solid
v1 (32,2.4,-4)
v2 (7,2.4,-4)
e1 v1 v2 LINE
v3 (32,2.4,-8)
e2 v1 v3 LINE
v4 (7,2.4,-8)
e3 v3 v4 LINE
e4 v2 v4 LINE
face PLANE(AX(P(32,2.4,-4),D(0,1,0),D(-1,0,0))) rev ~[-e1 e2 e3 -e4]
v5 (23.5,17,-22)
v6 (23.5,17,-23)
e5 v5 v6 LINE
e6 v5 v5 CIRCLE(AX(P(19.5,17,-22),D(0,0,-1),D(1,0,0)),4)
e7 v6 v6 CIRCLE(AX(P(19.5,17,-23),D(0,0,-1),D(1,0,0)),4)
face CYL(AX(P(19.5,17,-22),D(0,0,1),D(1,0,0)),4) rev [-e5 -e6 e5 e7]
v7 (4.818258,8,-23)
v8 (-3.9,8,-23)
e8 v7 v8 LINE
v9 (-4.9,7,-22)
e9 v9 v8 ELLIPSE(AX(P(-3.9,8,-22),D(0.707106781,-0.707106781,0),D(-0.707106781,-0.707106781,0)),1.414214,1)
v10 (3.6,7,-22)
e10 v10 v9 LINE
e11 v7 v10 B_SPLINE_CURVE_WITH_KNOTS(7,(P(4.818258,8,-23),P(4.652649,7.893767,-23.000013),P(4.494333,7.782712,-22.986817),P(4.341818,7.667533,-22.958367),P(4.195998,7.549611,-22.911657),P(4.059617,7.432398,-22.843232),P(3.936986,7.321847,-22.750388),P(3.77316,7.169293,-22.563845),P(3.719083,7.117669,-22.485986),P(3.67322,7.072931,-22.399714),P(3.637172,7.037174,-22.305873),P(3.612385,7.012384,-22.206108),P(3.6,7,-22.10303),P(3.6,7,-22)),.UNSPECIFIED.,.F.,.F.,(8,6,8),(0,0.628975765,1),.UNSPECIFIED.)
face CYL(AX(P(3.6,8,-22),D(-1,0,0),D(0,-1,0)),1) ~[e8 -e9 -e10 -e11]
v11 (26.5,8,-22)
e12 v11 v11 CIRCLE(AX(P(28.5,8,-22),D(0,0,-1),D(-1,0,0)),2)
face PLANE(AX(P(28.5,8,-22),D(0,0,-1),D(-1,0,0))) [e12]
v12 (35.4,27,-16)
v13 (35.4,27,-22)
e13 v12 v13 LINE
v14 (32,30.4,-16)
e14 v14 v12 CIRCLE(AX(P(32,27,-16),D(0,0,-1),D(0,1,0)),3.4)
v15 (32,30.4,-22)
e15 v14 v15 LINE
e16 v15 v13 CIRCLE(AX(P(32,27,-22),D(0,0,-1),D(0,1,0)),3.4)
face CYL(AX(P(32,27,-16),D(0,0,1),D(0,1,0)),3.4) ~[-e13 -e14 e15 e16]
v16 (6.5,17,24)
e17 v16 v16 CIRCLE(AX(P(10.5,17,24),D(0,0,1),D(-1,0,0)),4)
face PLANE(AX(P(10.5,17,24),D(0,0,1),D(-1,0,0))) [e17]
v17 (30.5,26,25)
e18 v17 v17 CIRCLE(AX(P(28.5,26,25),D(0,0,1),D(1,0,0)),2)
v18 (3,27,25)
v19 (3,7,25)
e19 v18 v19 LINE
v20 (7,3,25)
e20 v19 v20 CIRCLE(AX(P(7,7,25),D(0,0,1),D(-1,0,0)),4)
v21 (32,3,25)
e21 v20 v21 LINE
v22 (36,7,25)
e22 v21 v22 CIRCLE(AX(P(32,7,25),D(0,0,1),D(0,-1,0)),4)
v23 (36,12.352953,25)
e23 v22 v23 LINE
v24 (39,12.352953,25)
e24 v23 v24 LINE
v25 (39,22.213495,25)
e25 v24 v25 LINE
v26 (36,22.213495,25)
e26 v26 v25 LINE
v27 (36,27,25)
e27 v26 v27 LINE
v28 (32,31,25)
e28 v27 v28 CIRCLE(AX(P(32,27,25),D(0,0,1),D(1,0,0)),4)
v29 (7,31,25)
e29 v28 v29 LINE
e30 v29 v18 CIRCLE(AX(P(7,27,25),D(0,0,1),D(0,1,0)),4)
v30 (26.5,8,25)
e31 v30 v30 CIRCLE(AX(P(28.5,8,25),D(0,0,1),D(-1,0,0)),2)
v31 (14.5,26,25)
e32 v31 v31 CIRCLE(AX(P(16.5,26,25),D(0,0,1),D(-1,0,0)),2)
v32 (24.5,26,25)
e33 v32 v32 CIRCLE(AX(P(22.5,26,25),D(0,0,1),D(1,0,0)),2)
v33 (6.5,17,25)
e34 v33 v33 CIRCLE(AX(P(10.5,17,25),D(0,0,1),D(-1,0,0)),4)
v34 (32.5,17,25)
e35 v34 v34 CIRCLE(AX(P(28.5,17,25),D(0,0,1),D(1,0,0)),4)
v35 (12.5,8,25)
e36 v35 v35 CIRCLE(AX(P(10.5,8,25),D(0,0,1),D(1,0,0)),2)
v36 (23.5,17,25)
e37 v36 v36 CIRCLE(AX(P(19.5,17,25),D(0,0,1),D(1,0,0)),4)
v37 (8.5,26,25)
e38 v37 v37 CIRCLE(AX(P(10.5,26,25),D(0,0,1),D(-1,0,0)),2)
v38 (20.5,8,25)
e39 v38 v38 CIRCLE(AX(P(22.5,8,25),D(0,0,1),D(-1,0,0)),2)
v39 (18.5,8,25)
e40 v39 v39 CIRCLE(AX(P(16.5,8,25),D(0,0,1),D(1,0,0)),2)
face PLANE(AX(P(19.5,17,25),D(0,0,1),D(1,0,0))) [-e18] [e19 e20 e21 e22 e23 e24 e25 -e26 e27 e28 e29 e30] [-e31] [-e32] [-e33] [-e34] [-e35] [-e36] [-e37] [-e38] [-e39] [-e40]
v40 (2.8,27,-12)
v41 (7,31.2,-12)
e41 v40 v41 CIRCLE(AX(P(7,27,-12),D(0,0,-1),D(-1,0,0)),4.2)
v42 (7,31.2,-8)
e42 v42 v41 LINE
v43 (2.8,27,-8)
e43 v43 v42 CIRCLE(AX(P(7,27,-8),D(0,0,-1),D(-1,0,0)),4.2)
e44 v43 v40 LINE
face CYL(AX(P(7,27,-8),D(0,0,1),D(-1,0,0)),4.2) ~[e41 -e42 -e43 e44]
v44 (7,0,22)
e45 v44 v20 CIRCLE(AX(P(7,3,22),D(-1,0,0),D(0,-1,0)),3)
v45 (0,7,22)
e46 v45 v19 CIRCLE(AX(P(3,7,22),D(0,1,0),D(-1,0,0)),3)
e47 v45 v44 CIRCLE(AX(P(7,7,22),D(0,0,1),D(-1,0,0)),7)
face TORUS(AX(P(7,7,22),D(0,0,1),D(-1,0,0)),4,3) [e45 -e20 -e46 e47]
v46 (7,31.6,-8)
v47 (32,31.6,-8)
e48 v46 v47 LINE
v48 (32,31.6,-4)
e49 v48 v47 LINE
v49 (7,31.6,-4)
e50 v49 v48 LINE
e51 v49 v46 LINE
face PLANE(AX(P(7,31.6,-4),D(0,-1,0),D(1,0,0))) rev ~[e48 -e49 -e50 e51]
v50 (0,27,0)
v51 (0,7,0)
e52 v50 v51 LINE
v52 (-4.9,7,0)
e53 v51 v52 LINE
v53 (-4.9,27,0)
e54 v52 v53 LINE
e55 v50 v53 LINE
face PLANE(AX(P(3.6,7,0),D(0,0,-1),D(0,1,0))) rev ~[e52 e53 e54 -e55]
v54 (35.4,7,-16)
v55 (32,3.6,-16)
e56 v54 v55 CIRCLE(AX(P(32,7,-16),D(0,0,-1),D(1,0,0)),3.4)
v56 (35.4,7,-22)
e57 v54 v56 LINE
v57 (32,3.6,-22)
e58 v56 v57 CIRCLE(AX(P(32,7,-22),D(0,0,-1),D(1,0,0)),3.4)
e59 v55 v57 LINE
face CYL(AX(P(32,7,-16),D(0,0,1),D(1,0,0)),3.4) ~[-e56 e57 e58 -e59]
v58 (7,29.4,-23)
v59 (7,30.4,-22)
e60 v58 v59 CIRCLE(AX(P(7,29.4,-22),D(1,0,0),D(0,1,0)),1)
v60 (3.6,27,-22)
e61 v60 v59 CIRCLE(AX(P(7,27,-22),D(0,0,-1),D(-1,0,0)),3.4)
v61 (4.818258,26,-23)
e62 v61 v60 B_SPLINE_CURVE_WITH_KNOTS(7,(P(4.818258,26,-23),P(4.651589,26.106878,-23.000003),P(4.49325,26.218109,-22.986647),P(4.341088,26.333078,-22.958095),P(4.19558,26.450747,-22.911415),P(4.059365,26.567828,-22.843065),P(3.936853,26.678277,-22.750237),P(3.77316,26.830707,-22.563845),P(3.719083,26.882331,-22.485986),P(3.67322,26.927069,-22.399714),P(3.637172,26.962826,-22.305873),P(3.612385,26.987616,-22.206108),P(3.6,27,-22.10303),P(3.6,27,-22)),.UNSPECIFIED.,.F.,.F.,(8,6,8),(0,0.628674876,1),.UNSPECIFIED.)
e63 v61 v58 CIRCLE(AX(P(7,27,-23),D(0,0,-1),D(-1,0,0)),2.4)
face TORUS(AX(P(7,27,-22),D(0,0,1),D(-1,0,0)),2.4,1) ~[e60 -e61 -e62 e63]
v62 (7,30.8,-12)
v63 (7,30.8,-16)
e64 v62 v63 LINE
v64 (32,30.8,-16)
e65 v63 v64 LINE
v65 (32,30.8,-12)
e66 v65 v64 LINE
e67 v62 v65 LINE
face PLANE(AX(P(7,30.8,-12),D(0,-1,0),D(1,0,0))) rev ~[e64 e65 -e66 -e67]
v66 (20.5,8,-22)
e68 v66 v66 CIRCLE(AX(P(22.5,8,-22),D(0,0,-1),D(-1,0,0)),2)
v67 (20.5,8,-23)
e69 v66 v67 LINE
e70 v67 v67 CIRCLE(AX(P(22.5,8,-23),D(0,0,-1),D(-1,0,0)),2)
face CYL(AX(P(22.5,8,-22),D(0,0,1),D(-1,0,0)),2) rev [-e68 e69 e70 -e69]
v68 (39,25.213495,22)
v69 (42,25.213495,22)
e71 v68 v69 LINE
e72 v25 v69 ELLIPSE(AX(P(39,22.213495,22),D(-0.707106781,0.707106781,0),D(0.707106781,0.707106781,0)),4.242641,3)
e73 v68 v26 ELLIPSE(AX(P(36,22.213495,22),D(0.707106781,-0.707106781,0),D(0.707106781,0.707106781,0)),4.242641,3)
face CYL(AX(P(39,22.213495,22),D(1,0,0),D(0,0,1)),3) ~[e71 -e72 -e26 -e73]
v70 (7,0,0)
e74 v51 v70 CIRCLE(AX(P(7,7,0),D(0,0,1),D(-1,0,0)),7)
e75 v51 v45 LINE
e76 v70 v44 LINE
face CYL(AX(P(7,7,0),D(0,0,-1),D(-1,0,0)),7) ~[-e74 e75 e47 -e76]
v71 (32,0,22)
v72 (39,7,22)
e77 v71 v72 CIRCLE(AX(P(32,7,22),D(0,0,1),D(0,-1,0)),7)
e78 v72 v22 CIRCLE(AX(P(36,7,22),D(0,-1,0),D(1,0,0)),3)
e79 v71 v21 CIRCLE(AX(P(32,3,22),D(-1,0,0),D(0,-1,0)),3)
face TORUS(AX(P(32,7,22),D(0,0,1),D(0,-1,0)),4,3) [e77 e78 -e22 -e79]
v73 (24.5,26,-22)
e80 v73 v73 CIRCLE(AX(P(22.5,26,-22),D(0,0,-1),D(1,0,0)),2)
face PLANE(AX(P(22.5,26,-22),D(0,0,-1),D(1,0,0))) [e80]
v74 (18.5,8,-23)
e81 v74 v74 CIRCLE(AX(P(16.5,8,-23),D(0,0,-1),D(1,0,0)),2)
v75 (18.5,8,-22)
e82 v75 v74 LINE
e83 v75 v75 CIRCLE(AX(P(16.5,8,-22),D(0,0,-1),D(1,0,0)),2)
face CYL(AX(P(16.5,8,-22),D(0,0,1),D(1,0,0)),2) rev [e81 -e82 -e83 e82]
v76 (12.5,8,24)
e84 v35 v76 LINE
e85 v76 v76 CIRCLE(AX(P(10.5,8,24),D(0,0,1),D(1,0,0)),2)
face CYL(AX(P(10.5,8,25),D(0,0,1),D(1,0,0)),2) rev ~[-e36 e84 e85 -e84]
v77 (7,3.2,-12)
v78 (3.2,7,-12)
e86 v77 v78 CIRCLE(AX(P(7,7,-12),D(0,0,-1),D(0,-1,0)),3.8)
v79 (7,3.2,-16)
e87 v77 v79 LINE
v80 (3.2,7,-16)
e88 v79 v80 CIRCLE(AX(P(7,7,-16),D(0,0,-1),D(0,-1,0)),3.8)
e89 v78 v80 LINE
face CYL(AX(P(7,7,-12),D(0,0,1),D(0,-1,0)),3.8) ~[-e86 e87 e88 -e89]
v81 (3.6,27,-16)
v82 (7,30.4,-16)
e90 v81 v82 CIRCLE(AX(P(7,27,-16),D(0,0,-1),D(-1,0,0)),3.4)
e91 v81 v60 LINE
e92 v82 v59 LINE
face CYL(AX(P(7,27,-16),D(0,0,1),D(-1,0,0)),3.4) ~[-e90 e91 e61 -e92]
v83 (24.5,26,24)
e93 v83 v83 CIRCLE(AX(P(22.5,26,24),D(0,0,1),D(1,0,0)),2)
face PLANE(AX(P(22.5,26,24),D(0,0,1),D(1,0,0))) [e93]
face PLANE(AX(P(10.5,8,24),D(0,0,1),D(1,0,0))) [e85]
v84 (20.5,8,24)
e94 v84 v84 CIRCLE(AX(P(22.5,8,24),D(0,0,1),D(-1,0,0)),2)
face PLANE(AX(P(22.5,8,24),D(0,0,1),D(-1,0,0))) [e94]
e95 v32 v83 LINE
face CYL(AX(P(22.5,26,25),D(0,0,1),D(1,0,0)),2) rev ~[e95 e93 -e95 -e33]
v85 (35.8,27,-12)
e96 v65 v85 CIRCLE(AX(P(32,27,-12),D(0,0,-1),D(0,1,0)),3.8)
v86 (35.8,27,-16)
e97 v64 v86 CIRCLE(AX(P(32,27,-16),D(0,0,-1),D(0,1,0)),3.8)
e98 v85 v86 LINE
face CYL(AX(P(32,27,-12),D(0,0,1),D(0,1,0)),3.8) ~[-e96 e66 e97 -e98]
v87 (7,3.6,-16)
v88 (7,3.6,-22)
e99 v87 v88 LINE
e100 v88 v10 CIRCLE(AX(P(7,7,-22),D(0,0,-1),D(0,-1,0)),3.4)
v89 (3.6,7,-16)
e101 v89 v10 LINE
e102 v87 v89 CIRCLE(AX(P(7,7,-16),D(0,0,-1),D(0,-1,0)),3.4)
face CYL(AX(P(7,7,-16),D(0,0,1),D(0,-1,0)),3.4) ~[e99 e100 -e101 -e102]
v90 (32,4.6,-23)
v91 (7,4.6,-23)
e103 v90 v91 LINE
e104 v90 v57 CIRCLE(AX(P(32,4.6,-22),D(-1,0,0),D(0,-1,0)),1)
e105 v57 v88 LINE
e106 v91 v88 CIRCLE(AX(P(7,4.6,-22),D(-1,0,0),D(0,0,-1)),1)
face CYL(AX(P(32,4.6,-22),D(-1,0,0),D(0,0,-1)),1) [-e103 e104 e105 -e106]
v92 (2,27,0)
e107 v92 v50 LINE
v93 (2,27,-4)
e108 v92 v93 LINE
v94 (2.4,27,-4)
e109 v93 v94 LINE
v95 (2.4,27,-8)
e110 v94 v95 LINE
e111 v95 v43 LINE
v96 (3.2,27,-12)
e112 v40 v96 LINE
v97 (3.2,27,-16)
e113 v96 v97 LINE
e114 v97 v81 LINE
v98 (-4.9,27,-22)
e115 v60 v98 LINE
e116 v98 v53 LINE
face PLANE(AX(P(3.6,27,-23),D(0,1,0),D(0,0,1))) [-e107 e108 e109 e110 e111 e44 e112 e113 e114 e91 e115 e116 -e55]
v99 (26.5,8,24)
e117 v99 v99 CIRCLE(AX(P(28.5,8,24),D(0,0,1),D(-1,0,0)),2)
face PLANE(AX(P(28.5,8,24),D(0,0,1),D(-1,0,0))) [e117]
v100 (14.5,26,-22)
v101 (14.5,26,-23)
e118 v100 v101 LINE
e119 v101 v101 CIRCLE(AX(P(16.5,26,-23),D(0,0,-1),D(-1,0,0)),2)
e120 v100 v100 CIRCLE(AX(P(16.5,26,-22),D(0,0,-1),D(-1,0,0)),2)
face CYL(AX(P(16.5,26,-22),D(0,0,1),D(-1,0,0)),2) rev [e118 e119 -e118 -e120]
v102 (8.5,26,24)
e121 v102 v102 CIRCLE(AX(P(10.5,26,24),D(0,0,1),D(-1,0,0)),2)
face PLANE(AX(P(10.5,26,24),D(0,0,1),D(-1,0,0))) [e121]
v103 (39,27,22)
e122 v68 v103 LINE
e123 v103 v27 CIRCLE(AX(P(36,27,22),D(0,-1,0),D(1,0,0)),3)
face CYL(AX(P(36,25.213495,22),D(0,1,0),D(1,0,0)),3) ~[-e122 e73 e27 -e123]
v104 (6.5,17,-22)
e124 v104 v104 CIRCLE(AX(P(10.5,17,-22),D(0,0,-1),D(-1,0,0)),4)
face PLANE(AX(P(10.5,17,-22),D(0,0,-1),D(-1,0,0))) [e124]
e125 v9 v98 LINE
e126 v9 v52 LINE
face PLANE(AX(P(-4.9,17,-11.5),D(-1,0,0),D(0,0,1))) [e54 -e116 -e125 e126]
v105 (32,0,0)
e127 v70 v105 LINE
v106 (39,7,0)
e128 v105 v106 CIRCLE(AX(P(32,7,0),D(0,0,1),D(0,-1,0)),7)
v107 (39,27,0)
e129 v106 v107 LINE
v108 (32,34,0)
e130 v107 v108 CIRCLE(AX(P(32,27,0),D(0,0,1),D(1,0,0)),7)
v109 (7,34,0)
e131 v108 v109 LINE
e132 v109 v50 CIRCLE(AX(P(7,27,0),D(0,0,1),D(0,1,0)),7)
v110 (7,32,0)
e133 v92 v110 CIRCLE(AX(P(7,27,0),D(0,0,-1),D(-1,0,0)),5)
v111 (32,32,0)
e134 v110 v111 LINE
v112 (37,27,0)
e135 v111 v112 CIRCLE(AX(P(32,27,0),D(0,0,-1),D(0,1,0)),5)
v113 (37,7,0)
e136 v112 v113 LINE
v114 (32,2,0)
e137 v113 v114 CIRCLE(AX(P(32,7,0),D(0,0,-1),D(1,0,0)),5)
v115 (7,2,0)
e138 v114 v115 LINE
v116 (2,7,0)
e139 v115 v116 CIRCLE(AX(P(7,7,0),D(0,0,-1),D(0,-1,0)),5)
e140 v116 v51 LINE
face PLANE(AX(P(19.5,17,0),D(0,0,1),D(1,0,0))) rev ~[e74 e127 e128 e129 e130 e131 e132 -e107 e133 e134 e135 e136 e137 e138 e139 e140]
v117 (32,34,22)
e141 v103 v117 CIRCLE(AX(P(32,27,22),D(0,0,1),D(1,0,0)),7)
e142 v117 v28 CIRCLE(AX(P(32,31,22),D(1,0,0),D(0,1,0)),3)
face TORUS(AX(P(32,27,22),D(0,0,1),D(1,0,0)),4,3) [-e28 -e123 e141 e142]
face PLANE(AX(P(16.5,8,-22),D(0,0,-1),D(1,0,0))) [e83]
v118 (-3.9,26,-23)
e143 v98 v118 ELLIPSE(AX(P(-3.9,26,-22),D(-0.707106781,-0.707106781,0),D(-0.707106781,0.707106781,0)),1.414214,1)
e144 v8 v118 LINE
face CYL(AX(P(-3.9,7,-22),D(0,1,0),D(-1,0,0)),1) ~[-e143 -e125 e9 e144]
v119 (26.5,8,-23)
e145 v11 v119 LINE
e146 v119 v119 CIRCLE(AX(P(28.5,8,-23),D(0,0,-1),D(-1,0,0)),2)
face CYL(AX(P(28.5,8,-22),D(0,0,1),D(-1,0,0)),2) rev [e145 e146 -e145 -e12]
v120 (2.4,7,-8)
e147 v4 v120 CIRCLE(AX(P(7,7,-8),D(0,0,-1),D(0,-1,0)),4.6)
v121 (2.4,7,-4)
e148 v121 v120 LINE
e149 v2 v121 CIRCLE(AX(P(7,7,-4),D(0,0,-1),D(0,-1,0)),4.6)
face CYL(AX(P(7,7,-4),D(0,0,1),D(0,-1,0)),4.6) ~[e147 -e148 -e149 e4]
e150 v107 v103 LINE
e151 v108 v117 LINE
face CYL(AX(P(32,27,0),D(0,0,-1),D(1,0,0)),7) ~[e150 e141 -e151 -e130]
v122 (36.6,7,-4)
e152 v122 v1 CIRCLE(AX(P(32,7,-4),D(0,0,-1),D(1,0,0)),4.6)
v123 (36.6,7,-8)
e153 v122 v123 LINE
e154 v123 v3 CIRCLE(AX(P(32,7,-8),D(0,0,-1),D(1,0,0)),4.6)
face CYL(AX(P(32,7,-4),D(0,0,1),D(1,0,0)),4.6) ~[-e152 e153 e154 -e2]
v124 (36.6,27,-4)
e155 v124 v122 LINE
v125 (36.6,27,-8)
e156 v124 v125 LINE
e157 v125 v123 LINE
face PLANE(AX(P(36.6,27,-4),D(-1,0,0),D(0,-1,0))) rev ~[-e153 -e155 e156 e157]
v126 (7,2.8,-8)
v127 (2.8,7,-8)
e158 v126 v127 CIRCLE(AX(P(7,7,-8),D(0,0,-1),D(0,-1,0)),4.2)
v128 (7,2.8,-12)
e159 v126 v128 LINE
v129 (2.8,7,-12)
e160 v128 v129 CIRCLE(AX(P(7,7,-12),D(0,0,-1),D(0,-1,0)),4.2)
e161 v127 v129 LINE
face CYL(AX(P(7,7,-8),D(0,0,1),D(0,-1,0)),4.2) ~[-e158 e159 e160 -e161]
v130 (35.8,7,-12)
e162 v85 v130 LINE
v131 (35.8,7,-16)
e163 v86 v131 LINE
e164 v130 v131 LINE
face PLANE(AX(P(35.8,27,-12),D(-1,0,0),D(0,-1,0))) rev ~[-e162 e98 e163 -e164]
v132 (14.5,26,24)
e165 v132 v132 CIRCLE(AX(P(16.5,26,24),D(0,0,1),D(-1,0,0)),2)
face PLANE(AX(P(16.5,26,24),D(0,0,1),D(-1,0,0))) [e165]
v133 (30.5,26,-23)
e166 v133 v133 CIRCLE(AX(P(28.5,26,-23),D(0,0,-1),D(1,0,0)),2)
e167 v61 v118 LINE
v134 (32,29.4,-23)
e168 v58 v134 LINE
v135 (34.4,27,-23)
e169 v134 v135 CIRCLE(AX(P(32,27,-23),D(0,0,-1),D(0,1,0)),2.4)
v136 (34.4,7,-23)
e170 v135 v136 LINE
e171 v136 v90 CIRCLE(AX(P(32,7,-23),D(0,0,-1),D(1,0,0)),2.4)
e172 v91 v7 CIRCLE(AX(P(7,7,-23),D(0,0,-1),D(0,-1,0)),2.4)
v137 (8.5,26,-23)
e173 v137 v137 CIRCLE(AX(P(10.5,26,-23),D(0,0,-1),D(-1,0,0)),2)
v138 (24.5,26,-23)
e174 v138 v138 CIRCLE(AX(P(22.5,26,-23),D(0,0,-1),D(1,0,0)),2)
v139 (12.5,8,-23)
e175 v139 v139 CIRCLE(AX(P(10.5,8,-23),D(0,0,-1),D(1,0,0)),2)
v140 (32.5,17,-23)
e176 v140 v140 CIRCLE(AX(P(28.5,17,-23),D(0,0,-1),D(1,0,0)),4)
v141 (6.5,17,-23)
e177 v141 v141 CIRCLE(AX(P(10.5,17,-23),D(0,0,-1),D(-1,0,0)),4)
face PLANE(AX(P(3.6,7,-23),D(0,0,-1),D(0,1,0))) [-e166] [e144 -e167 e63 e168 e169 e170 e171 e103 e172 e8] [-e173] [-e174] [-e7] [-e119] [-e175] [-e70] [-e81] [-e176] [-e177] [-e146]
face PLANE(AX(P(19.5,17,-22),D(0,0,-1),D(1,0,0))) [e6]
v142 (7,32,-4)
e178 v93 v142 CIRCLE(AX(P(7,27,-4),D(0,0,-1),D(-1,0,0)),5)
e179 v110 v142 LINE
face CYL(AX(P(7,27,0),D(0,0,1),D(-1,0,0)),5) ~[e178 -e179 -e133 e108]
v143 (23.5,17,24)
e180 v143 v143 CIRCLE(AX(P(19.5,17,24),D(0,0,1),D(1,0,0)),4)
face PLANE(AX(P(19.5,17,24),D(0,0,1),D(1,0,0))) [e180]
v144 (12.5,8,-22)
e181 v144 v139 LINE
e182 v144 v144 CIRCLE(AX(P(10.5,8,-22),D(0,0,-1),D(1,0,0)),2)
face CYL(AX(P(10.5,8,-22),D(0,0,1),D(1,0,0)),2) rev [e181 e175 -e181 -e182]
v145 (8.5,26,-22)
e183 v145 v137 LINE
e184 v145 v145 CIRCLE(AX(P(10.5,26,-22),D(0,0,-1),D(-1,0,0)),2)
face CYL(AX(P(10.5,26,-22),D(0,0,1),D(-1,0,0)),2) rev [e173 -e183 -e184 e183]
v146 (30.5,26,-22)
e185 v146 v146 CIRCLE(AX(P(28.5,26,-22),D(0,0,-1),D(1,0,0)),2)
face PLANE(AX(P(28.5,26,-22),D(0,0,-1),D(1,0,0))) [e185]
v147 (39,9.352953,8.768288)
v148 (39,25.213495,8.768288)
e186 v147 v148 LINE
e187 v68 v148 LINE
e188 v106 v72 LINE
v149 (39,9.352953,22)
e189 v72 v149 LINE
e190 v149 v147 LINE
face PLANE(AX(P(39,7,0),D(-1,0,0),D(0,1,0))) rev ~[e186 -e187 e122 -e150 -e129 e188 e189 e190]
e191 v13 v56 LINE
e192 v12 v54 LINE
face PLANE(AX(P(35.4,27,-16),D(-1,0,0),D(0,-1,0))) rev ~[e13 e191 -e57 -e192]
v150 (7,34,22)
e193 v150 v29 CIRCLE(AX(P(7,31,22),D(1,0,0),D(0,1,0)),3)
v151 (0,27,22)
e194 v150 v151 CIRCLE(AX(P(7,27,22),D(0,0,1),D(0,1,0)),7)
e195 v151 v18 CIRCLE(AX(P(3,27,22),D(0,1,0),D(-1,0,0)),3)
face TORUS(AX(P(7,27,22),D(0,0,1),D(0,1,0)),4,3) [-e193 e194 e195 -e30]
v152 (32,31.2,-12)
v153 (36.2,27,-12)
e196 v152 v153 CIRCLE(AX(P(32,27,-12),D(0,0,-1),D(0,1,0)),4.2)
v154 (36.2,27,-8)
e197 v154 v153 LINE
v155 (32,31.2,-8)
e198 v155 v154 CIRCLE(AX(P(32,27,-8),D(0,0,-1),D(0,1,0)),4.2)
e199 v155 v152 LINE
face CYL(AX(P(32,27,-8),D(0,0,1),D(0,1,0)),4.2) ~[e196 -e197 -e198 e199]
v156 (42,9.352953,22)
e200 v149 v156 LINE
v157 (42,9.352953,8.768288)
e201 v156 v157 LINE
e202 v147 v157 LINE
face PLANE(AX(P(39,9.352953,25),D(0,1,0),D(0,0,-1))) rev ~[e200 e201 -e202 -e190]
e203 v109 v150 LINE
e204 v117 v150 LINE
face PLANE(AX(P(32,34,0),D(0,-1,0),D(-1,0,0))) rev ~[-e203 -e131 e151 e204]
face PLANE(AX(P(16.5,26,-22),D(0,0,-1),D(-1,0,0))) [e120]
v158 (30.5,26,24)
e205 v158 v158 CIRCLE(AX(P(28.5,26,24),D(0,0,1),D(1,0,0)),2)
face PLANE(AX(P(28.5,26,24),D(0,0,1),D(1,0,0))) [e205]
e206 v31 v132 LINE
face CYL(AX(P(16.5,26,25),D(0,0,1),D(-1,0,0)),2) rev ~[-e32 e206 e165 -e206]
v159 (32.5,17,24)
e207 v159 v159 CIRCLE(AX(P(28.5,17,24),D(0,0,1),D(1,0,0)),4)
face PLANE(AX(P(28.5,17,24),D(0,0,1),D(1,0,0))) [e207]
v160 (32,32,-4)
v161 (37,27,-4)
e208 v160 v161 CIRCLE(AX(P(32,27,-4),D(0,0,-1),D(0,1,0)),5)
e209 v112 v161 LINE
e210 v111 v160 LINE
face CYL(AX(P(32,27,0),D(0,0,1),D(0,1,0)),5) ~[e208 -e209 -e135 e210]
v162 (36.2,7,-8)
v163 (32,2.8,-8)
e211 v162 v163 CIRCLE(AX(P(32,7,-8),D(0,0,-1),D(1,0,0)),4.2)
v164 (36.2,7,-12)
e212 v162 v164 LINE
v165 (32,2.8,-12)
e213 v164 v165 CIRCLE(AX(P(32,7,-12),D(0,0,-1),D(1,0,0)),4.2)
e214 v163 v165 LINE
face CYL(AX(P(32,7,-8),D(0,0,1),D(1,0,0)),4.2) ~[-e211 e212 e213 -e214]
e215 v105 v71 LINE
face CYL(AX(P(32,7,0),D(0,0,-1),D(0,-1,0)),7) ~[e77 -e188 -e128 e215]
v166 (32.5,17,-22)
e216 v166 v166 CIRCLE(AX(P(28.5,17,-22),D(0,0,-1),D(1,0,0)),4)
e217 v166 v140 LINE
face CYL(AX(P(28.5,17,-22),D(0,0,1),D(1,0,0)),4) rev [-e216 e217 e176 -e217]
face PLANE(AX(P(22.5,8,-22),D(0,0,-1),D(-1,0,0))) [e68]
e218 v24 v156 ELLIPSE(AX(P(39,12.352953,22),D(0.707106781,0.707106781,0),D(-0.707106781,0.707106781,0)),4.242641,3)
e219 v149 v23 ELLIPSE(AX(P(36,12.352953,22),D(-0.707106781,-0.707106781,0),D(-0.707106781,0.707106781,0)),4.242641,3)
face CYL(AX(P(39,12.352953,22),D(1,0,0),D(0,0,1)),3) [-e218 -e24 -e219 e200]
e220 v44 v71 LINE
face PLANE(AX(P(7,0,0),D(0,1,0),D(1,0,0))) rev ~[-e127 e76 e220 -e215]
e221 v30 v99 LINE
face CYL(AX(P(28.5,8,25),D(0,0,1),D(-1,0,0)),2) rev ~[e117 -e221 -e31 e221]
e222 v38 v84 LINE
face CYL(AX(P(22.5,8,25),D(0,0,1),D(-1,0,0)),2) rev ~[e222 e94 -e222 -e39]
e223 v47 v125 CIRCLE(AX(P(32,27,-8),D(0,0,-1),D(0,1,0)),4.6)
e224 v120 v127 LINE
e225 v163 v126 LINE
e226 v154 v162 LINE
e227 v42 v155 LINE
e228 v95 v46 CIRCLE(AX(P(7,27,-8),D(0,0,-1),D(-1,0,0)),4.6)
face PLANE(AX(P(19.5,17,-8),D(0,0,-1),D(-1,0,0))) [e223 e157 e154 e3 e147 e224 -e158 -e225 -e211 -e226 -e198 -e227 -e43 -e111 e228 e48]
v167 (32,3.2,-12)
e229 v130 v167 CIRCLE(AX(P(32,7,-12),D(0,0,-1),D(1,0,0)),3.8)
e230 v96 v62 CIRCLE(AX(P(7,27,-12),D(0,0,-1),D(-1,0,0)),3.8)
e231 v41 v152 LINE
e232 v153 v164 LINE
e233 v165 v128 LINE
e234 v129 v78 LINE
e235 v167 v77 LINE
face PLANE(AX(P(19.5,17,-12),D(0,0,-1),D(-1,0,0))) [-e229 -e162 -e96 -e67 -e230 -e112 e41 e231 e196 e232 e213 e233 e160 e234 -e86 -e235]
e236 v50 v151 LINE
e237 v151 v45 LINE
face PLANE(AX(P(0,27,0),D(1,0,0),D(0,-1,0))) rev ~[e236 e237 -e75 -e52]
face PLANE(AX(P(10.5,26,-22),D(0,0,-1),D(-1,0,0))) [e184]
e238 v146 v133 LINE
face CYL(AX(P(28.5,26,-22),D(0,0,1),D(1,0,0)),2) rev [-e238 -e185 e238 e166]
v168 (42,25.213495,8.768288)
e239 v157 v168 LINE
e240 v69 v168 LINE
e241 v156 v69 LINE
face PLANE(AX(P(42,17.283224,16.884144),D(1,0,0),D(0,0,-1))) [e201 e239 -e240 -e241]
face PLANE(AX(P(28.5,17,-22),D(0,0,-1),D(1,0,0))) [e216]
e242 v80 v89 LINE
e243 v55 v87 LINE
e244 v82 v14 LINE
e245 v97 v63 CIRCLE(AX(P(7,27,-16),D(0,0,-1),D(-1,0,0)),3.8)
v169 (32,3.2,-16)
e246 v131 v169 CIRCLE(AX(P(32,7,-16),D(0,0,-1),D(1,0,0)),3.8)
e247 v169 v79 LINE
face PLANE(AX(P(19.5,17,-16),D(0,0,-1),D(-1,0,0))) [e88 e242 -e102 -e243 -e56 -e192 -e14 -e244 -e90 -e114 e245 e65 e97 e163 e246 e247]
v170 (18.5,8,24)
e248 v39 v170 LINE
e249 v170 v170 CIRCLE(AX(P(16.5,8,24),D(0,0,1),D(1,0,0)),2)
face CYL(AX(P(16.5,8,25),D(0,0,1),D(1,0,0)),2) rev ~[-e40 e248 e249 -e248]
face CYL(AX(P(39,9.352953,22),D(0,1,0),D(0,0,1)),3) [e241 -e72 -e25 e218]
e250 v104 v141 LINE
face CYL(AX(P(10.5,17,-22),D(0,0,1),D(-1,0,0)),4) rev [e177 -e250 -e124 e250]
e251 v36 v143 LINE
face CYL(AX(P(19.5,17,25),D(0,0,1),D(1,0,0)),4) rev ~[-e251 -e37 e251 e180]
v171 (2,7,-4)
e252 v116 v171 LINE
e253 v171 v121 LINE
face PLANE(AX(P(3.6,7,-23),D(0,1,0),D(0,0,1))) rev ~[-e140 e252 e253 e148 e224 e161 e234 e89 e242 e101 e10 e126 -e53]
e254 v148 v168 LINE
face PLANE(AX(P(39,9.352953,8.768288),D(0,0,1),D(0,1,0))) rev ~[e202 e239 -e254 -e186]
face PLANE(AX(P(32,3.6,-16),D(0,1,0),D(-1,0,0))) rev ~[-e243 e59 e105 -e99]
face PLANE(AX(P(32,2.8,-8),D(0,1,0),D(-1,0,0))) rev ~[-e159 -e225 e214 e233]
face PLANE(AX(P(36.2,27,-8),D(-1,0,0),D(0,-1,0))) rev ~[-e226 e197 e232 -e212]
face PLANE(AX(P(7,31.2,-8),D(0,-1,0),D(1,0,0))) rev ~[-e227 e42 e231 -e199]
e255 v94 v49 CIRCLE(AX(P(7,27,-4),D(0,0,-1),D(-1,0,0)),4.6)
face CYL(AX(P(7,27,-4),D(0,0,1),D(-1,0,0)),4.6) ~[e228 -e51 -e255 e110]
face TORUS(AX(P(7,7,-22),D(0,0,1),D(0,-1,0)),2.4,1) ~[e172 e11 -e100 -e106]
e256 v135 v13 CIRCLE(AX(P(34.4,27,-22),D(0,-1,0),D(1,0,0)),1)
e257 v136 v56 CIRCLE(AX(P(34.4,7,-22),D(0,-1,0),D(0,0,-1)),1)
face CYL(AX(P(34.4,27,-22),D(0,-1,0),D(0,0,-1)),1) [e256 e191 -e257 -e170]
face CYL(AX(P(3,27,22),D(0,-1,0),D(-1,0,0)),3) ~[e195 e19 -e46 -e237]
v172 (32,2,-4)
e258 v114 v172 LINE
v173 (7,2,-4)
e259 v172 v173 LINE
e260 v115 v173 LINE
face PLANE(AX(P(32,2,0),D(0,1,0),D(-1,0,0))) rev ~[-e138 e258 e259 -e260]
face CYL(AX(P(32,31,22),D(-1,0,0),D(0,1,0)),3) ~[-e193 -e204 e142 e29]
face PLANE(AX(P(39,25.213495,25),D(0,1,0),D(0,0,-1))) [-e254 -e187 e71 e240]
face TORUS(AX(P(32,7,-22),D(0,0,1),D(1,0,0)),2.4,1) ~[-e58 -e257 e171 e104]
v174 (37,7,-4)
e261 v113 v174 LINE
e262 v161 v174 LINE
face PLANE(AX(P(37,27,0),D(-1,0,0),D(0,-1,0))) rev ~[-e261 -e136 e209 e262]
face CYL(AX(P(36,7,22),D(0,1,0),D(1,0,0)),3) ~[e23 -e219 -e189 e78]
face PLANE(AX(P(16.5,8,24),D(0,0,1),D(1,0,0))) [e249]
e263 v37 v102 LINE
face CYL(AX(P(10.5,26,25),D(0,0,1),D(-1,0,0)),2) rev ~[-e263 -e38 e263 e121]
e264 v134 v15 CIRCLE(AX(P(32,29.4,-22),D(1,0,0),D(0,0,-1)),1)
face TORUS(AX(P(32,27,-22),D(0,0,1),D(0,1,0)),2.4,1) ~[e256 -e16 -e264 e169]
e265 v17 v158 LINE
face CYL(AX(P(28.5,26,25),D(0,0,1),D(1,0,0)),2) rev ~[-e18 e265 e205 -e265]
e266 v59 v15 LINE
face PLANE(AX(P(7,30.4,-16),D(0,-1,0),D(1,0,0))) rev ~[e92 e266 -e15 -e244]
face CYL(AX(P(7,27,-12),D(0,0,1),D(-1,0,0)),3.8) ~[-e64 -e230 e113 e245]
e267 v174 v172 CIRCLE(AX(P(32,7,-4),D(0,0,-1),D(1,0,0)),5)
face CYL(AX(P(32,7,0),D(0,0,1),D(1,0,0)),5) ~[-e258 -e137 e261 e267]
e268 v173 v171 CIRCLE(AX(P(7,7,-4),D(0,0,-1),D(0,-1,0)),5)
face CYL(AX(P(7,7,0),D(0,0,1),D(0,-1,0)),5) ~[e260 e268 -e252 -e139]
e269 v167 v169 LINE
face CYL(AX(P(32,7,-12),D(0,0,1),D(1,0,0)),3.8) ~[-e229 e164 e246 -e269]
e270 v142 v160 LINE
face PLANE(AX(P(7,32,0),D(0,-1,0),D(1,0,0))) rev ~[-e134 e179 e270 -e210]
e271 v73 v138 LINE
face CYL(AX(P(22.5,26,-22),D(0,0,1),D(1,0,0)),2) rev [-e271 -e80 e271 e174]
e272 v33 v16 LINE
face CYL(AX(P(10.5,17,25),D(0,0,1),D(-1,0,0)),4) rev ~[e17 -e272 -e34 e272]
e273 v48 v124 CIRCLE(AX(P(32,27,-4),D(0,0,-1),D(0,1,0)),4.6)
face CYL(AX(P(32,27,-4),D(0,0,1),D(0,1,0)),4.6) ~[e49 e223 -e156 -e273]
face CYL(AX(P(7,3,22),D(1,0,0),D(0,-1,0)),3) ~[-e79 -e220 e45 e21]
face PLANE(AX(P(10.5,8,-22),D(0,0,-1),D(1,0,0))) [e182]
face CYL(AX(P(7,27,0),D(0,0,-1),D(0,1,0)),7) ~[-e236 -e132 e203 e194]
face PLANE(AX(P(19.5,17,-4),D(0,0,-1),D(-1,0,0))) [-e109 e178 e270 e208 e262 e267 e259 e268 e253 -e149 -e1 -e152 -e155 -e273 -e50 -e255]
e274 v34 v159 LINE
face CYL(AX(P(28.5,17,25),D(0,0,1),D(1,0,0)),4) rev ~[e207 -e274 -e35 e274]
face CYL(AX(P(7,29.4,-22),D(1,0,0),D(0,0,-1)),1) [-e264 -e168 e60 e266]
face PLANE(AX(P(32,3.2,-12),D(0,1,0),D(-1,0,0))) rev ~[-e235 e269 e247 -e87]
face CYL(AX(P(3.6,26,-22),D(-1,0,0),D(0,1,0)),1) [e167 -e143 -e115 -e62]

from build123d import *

# Parameters (mm, degrees)
EXTRUDE_1_DEPTH     = 25
EXTRUDE_3_DEPTH     = 4
EXTRUDE_4_DEPTH     = 4
EXTRUDE_5_DEPTH     = 4
EXTRUDE_6_DEPTH     = 4
EXTRUDE_7_DEPTH     = 7
SKETCH_7_W          = 23
SKETCH_7_H          = 20
EXTRUDE_8_DEPTH     = 8.5
SKETCH_8_W          = 16.231712275
SKETCH_8_H          = 15.860541866
EXTRUDE_9_DEPTH     = 3
FILLET_1_R          = 3
FILLET_2_R          = 1
SKETCH_9_R          = 4
SKETCH_9_R_2        = 2
CUT_EXTRUDE_1_DEPTH = 1
CUT_EXTRUDE_START   = -1
SKETCH_10_R         = 4
SKETCH_10_R_2       = 2
CUT_EXTRUDE_2_DEPTH = 1


with BuildPart() as part:
    # ｽｹｯﾁ1 → ﾎﾞｽ - 押し出し1 (new body)
    with BuildSketch(Plane.XY):
        with BuildLine():
            Line((7, 0), (32, 0))
            ThreePointArc((32, 0), (36.949747468, 2.050252532), (39, 7))
            Line((39, 7), (39, 27))
            ThreePointArc((39, 27), (36.949747468, 31.949747468), (32, 34))
            Line((32, 34), (7, 34))
            ThreePointArc((7, 34), (2.050252532, 31.949747468), (0, 27))
            Line((0, 27), (0, 7))
            ThreePointArc((0, 7), (2.050252532, 2.050252532), (7, 0))
        make_face()
    extrude(amount=EXTRUDE_1_DEPTH)

    # ｽｹｯﾁ2 → ﾎﾞｽ - 押し出し3 (add)
    with BuildSketch(Plane(origin=(0, 0, 0), x_dir=(-1, 0, 0), z_dir=(0, 0, -1))):
        with BuildLine():
            Line((-37, 27), (-37, 7))
            ThreePointArc((-37, 7), (-35.535533906, 3.464466094), (-32, 2))
            Line((-32, 2), (-7, 2))
            ThreePointArc((-7, 2), (-3.464466094, 3.464466094), (-2, 7))
            Line((-2, 7), (-2, 27))
            ThreePointArc((-2, 27), (-3.464466094, 30.535533906), (-7, 32))
            Line((-7, 32), (-32, 32))
            ThreePointArc((-32, 32), (-35.535533906, 30.535533906), (-37, 27))
        make_face()
    extrude(amount=EXTRUDE_3_DEPTH)

    # ｽｹｯﾁ3 → ﾎﾞｽ - 押し出し4 (add)
    with BuildSketch(Plane(origin=(0, 0, -4), x_dir=(-1, 0, 0), z_dir=(0, 0, -1))):
        with BuildLine():
            Line((-32, 2.4), (-7, 2.4))
            ThreePointArc((-7, 2.4), (-3.747308807, 3.747308807), (-2.4, 7))
            Line((-2.4, 7), (-2.4, 27))
            ThreePointArc((-2.4, 27), (-3.747308807, 30.252691193), (-7, 31.6))
            Line((-7, 31.6), (-32, 31.6))
            ThreePointArc((-32, 31.6), (-35.252691193, 30.252691193), (-36.6, 27))
            Line((-36.6, 27), (-36.6, 7))
            ThreePointArc((-36.6, 7), (-35.252691193, 3.747308807), (-32, 2.4))
        make_face()
    extrude(amount=EXTRUDE_4_DEPTH)

    # ｽｹｯﾁ4 → ﾎﾞｽ - 押し出し5 (add)
    with BuildSketch(Plane(origin=(0, 0, -8), x_dir=(-1, 0, 0), z_dir=(0, 0, -1))):
        with BuildLine():
            Line((-36.2, 27), (-36.2, 7))
            ThreePointArc((-36.2, 7), (-34.969848481, 4.030151519), (-32, 2.8))
            Line((-32, 2.8), (-7, 2.8))
            ThreePointArc((-7, 2.8), (-4.030151519, 4.030151519), (-2.8, 7))
            Line((-2.8, 7), (-2.8, 27))
            ThreePointArc((-2.8, 27), (-4.030151519, 29.969848481), (-7, 31.2))
            Line((-7, 31.2), (-32, 31.2))
            ThreePointArc((-32, 31.2), (-34.969848481, 29.969848481), (-36.2, 27))
        make_face()
    extrude(amount=EXTRUDE_5_DEPTH)

    # ｽｹｯﾁ5 → ﾎﾞｽ - 押し出し6 (add)
    with BuildSketch(Plane(origin=(0, 0, -12), x_dir=(-1, 0, 0), z_dir=(0, 0, -1))):
        with BuildLine():
            Line((-35.8, 27), (-35.8, 7))
            ThreePointArc((-35.8, 7), (-34.687005769, 4.312994231), (-32, 3.2))
            Line((-32, 3.2), (-7, 3.2))
            ThreePointArc((-7, 3.2), (-4.312994231, 4.312994231), (-3.2, 7))
            Line((-3.2, 7), (-3.2, 27))
            ThreePointArc((-3.2, 27), (-4.312994231, 29.687005769), (-7, 30.8))
            Line((-7, 30.8), (-32, 30.8))
            ThreePointArc((-32, 30.8), (-34.687005769, 29.687005769), (-35.8, 27))
        make_face()
    extrude(amount=EXTRUDE_6_DEPTH)

    # ｽｹｯﾁ6 → ﾎﾞｽ - 押し出し7 (add)
    with BuildSketch(Plane(origin=(0, 0, -16), x_dir=(-1, 0, 0), z_dir=(0, 0, -1))):
        with BuildLine():
            Line((-35.4, 27), (-35.4, 7))
            ThreePointArc((-35.4, 7), (-34.404163056, 4.595836944), (-32, 3.6))
            Line((-32, 3.6), (-7, 3.6))
            ThreePointArc((-7, 3.6), (-4.595836944, 4.595836944), (-3.6, 7))
            Line((-3.6, 7), (-3.6, 27))
            ThreePointArc((-3.6, 27), (-4.595836944, 29.404163056), (-7, 30.4))
            Line((-7, 30.4), (-32, 30.4))
            ThreePointArc((-32, 30.4), (-34.404163056, 29.404163056), (-35.4, 27))
        make_face()
    extrude(amount=EXTRUDE_7_DEPTH)

    # ｽｹｯﾁ7 → ﾎﾞｽ - 押し出し8 (add)
    with BuildSketch(Plane.ZY.offset(-3.6)):
        with Locations((-11.5, 17)):
            Rectangle(SKETCH_7_W, SKETCH_7_H)
    extrude(amount=EXTRUDE_8_DEPTH)

    # ｽｹｯﾁ8 → ﾎﾞｽ - 押し出し9 (add)
    with BuildSketch(Plane(origin=(39, 0, 0), x_dir=(0, 0, -1), z_dir=(1, 0, 0))):
        with Locations((-16.884143863, 17.283223962)):
            Rectangle(SKETCH_8_W, SKETCH_8_H)
    extrude(amount=EXTRUDE_9_DEPTH)

    # ﾌｨﾚｯﾄ1
    fillet_1_edges = [part.edges().sort_by_distance(p)[0] for p in [
        (39, 26.106747447, 25),
        (40.5, 25.213494895, 25),
        (42, 17.283223962, 25),
        (40.5, 9.352953029, 25),
        (39, 8.176476514, 25),
        (36.949747468, 2.050252532, 25),
        (19.5, 0, 25),
        (2.050252532, 2.050252532, 25),
        (0, 17, 25),
        (2.050252532, 31.949747468, 25),
        (19.5, 34, 25),
        (36.949747468, 31.949747468, 25),
    ]]
    fillet(fillet_1_edges, radius=FILLET_1_R)

    # ﾌｨﾚｯﾄ2
    fillet_2_edges = [part.edges().sort_by_distance(p)[0] for p in [
        (34.404163056, 29.404163056, -23),
        (35.4, 17, -23),
        (34.404163056, 4.595836944, -23),
        (19.5, 3.6, -23),
        (4.595836944, 4.595836944, -23),
        (4.595836944, 29.404163056, -23),
        (19.5, 30.4, -23),
        (-0.65, 7, -23),
        (-0.65, 27, -23),
        (-4.9, 17, -23),
    ]]
    fillet(fillet_2_edges, radius=FILLET_2_R)

    # ｽｹｯﾁ9 → ｶｯﾄ - 押し出し1 (cut)
    with BuildSketch(Plane.XY.offset(25)):
        with Locations((19.5, 17)):
            Circle(SKETCH_9_R)
        with Locations((28.5, 17)):
            Circle(SKETCH_9_R)
        with Locations(Location((10.5, 17, 0), (0, 0, 180))):
            Circle(SKETCH_9_R)
        with Locations((16.5, 8)):
            Circle(SKETCH_9_R_2)
        with Locations((10.5, 8)):
            Circle(SKETCH_9_R_2)
        with Locations(Location((22.5, 8, 0), (0, 0, 180))):
            Circle(SKETCH_9_R_2)
        with Locations(Location((28.5, 8, 0), (0, 0, 180))):
            Circle(SKETCH_9_R_2)
        with Locations((28.5, 26)):
            Circle(SKETCH_9_R_2)
        with Locations((22.5, 26)):
            Circle(SKETCH_9_R_2)
        with Locations(Location((16.5, 26, 0), (0, 0, 180))):
            Circle(SKETCH_9_R_2)
        with Locations(Location((10.5, 26, 0), (0, 0, 180))):
            Circle(SKETCH_9_R_2)
    extrude(amount=-CUT_EXTRUDE_1_DEPTH, mode=Mode.SUBTRACT)

    # ｽｹｯﾁ10 → ｶｯﾄ - 押し出し2 (cut)
    with BuildSketch(Plane(origin=(0, 0, -23), x_dir=(-1, 0, 0), z_dir=(0, 0, -1)).offset(CUT_EXTRUDE_START)):
        with Locations(Location((-19.5, 17, 0), (0, 0, 180))):
            Circle(SKETCH_10_R)
        with Locations((-10.5, 17)):
            Circle(SKETCH_10_R)
        with Locations(Location((-28.5, 17, 0), (0, 0, 180))):
            Circle(SKETCH_10_R)
        with Locations((-16.5, 26)):
            Circle(SKETCH_10_R_2)
        with Locations((-10.5, 26)):
            Circle(SKETCH_10_R_2)
        with Locations(Location((-28.5, 26, 0), (0, 0, 180))):
            Circle(SKETCH_10_R_2)
        with Locations(Location((-22.5, 26, 0), (0, 0, 180))):
            Circle(SKETCH_10_R_2)
        with Locations(Location((-10.5, 8, 0), (0, 0, 180))):
            Circle(SKETCH_10_R_2)
        with Locations(Location((-16.5, 8, 0), (0, 0, 180))):
            Circle(SKETCH_10_R_2)
        with Locations((-22.5, 8)):
            Circle(SKETCH_10_R_2)
        with Locations((-28.5, 8)):
            Circle(SKETCH_10_R_2)
    extrude(amount=CUT_EXTRUDE_2_DEPTH, mode=Mode.SUBTRACT)


solid = part.part
